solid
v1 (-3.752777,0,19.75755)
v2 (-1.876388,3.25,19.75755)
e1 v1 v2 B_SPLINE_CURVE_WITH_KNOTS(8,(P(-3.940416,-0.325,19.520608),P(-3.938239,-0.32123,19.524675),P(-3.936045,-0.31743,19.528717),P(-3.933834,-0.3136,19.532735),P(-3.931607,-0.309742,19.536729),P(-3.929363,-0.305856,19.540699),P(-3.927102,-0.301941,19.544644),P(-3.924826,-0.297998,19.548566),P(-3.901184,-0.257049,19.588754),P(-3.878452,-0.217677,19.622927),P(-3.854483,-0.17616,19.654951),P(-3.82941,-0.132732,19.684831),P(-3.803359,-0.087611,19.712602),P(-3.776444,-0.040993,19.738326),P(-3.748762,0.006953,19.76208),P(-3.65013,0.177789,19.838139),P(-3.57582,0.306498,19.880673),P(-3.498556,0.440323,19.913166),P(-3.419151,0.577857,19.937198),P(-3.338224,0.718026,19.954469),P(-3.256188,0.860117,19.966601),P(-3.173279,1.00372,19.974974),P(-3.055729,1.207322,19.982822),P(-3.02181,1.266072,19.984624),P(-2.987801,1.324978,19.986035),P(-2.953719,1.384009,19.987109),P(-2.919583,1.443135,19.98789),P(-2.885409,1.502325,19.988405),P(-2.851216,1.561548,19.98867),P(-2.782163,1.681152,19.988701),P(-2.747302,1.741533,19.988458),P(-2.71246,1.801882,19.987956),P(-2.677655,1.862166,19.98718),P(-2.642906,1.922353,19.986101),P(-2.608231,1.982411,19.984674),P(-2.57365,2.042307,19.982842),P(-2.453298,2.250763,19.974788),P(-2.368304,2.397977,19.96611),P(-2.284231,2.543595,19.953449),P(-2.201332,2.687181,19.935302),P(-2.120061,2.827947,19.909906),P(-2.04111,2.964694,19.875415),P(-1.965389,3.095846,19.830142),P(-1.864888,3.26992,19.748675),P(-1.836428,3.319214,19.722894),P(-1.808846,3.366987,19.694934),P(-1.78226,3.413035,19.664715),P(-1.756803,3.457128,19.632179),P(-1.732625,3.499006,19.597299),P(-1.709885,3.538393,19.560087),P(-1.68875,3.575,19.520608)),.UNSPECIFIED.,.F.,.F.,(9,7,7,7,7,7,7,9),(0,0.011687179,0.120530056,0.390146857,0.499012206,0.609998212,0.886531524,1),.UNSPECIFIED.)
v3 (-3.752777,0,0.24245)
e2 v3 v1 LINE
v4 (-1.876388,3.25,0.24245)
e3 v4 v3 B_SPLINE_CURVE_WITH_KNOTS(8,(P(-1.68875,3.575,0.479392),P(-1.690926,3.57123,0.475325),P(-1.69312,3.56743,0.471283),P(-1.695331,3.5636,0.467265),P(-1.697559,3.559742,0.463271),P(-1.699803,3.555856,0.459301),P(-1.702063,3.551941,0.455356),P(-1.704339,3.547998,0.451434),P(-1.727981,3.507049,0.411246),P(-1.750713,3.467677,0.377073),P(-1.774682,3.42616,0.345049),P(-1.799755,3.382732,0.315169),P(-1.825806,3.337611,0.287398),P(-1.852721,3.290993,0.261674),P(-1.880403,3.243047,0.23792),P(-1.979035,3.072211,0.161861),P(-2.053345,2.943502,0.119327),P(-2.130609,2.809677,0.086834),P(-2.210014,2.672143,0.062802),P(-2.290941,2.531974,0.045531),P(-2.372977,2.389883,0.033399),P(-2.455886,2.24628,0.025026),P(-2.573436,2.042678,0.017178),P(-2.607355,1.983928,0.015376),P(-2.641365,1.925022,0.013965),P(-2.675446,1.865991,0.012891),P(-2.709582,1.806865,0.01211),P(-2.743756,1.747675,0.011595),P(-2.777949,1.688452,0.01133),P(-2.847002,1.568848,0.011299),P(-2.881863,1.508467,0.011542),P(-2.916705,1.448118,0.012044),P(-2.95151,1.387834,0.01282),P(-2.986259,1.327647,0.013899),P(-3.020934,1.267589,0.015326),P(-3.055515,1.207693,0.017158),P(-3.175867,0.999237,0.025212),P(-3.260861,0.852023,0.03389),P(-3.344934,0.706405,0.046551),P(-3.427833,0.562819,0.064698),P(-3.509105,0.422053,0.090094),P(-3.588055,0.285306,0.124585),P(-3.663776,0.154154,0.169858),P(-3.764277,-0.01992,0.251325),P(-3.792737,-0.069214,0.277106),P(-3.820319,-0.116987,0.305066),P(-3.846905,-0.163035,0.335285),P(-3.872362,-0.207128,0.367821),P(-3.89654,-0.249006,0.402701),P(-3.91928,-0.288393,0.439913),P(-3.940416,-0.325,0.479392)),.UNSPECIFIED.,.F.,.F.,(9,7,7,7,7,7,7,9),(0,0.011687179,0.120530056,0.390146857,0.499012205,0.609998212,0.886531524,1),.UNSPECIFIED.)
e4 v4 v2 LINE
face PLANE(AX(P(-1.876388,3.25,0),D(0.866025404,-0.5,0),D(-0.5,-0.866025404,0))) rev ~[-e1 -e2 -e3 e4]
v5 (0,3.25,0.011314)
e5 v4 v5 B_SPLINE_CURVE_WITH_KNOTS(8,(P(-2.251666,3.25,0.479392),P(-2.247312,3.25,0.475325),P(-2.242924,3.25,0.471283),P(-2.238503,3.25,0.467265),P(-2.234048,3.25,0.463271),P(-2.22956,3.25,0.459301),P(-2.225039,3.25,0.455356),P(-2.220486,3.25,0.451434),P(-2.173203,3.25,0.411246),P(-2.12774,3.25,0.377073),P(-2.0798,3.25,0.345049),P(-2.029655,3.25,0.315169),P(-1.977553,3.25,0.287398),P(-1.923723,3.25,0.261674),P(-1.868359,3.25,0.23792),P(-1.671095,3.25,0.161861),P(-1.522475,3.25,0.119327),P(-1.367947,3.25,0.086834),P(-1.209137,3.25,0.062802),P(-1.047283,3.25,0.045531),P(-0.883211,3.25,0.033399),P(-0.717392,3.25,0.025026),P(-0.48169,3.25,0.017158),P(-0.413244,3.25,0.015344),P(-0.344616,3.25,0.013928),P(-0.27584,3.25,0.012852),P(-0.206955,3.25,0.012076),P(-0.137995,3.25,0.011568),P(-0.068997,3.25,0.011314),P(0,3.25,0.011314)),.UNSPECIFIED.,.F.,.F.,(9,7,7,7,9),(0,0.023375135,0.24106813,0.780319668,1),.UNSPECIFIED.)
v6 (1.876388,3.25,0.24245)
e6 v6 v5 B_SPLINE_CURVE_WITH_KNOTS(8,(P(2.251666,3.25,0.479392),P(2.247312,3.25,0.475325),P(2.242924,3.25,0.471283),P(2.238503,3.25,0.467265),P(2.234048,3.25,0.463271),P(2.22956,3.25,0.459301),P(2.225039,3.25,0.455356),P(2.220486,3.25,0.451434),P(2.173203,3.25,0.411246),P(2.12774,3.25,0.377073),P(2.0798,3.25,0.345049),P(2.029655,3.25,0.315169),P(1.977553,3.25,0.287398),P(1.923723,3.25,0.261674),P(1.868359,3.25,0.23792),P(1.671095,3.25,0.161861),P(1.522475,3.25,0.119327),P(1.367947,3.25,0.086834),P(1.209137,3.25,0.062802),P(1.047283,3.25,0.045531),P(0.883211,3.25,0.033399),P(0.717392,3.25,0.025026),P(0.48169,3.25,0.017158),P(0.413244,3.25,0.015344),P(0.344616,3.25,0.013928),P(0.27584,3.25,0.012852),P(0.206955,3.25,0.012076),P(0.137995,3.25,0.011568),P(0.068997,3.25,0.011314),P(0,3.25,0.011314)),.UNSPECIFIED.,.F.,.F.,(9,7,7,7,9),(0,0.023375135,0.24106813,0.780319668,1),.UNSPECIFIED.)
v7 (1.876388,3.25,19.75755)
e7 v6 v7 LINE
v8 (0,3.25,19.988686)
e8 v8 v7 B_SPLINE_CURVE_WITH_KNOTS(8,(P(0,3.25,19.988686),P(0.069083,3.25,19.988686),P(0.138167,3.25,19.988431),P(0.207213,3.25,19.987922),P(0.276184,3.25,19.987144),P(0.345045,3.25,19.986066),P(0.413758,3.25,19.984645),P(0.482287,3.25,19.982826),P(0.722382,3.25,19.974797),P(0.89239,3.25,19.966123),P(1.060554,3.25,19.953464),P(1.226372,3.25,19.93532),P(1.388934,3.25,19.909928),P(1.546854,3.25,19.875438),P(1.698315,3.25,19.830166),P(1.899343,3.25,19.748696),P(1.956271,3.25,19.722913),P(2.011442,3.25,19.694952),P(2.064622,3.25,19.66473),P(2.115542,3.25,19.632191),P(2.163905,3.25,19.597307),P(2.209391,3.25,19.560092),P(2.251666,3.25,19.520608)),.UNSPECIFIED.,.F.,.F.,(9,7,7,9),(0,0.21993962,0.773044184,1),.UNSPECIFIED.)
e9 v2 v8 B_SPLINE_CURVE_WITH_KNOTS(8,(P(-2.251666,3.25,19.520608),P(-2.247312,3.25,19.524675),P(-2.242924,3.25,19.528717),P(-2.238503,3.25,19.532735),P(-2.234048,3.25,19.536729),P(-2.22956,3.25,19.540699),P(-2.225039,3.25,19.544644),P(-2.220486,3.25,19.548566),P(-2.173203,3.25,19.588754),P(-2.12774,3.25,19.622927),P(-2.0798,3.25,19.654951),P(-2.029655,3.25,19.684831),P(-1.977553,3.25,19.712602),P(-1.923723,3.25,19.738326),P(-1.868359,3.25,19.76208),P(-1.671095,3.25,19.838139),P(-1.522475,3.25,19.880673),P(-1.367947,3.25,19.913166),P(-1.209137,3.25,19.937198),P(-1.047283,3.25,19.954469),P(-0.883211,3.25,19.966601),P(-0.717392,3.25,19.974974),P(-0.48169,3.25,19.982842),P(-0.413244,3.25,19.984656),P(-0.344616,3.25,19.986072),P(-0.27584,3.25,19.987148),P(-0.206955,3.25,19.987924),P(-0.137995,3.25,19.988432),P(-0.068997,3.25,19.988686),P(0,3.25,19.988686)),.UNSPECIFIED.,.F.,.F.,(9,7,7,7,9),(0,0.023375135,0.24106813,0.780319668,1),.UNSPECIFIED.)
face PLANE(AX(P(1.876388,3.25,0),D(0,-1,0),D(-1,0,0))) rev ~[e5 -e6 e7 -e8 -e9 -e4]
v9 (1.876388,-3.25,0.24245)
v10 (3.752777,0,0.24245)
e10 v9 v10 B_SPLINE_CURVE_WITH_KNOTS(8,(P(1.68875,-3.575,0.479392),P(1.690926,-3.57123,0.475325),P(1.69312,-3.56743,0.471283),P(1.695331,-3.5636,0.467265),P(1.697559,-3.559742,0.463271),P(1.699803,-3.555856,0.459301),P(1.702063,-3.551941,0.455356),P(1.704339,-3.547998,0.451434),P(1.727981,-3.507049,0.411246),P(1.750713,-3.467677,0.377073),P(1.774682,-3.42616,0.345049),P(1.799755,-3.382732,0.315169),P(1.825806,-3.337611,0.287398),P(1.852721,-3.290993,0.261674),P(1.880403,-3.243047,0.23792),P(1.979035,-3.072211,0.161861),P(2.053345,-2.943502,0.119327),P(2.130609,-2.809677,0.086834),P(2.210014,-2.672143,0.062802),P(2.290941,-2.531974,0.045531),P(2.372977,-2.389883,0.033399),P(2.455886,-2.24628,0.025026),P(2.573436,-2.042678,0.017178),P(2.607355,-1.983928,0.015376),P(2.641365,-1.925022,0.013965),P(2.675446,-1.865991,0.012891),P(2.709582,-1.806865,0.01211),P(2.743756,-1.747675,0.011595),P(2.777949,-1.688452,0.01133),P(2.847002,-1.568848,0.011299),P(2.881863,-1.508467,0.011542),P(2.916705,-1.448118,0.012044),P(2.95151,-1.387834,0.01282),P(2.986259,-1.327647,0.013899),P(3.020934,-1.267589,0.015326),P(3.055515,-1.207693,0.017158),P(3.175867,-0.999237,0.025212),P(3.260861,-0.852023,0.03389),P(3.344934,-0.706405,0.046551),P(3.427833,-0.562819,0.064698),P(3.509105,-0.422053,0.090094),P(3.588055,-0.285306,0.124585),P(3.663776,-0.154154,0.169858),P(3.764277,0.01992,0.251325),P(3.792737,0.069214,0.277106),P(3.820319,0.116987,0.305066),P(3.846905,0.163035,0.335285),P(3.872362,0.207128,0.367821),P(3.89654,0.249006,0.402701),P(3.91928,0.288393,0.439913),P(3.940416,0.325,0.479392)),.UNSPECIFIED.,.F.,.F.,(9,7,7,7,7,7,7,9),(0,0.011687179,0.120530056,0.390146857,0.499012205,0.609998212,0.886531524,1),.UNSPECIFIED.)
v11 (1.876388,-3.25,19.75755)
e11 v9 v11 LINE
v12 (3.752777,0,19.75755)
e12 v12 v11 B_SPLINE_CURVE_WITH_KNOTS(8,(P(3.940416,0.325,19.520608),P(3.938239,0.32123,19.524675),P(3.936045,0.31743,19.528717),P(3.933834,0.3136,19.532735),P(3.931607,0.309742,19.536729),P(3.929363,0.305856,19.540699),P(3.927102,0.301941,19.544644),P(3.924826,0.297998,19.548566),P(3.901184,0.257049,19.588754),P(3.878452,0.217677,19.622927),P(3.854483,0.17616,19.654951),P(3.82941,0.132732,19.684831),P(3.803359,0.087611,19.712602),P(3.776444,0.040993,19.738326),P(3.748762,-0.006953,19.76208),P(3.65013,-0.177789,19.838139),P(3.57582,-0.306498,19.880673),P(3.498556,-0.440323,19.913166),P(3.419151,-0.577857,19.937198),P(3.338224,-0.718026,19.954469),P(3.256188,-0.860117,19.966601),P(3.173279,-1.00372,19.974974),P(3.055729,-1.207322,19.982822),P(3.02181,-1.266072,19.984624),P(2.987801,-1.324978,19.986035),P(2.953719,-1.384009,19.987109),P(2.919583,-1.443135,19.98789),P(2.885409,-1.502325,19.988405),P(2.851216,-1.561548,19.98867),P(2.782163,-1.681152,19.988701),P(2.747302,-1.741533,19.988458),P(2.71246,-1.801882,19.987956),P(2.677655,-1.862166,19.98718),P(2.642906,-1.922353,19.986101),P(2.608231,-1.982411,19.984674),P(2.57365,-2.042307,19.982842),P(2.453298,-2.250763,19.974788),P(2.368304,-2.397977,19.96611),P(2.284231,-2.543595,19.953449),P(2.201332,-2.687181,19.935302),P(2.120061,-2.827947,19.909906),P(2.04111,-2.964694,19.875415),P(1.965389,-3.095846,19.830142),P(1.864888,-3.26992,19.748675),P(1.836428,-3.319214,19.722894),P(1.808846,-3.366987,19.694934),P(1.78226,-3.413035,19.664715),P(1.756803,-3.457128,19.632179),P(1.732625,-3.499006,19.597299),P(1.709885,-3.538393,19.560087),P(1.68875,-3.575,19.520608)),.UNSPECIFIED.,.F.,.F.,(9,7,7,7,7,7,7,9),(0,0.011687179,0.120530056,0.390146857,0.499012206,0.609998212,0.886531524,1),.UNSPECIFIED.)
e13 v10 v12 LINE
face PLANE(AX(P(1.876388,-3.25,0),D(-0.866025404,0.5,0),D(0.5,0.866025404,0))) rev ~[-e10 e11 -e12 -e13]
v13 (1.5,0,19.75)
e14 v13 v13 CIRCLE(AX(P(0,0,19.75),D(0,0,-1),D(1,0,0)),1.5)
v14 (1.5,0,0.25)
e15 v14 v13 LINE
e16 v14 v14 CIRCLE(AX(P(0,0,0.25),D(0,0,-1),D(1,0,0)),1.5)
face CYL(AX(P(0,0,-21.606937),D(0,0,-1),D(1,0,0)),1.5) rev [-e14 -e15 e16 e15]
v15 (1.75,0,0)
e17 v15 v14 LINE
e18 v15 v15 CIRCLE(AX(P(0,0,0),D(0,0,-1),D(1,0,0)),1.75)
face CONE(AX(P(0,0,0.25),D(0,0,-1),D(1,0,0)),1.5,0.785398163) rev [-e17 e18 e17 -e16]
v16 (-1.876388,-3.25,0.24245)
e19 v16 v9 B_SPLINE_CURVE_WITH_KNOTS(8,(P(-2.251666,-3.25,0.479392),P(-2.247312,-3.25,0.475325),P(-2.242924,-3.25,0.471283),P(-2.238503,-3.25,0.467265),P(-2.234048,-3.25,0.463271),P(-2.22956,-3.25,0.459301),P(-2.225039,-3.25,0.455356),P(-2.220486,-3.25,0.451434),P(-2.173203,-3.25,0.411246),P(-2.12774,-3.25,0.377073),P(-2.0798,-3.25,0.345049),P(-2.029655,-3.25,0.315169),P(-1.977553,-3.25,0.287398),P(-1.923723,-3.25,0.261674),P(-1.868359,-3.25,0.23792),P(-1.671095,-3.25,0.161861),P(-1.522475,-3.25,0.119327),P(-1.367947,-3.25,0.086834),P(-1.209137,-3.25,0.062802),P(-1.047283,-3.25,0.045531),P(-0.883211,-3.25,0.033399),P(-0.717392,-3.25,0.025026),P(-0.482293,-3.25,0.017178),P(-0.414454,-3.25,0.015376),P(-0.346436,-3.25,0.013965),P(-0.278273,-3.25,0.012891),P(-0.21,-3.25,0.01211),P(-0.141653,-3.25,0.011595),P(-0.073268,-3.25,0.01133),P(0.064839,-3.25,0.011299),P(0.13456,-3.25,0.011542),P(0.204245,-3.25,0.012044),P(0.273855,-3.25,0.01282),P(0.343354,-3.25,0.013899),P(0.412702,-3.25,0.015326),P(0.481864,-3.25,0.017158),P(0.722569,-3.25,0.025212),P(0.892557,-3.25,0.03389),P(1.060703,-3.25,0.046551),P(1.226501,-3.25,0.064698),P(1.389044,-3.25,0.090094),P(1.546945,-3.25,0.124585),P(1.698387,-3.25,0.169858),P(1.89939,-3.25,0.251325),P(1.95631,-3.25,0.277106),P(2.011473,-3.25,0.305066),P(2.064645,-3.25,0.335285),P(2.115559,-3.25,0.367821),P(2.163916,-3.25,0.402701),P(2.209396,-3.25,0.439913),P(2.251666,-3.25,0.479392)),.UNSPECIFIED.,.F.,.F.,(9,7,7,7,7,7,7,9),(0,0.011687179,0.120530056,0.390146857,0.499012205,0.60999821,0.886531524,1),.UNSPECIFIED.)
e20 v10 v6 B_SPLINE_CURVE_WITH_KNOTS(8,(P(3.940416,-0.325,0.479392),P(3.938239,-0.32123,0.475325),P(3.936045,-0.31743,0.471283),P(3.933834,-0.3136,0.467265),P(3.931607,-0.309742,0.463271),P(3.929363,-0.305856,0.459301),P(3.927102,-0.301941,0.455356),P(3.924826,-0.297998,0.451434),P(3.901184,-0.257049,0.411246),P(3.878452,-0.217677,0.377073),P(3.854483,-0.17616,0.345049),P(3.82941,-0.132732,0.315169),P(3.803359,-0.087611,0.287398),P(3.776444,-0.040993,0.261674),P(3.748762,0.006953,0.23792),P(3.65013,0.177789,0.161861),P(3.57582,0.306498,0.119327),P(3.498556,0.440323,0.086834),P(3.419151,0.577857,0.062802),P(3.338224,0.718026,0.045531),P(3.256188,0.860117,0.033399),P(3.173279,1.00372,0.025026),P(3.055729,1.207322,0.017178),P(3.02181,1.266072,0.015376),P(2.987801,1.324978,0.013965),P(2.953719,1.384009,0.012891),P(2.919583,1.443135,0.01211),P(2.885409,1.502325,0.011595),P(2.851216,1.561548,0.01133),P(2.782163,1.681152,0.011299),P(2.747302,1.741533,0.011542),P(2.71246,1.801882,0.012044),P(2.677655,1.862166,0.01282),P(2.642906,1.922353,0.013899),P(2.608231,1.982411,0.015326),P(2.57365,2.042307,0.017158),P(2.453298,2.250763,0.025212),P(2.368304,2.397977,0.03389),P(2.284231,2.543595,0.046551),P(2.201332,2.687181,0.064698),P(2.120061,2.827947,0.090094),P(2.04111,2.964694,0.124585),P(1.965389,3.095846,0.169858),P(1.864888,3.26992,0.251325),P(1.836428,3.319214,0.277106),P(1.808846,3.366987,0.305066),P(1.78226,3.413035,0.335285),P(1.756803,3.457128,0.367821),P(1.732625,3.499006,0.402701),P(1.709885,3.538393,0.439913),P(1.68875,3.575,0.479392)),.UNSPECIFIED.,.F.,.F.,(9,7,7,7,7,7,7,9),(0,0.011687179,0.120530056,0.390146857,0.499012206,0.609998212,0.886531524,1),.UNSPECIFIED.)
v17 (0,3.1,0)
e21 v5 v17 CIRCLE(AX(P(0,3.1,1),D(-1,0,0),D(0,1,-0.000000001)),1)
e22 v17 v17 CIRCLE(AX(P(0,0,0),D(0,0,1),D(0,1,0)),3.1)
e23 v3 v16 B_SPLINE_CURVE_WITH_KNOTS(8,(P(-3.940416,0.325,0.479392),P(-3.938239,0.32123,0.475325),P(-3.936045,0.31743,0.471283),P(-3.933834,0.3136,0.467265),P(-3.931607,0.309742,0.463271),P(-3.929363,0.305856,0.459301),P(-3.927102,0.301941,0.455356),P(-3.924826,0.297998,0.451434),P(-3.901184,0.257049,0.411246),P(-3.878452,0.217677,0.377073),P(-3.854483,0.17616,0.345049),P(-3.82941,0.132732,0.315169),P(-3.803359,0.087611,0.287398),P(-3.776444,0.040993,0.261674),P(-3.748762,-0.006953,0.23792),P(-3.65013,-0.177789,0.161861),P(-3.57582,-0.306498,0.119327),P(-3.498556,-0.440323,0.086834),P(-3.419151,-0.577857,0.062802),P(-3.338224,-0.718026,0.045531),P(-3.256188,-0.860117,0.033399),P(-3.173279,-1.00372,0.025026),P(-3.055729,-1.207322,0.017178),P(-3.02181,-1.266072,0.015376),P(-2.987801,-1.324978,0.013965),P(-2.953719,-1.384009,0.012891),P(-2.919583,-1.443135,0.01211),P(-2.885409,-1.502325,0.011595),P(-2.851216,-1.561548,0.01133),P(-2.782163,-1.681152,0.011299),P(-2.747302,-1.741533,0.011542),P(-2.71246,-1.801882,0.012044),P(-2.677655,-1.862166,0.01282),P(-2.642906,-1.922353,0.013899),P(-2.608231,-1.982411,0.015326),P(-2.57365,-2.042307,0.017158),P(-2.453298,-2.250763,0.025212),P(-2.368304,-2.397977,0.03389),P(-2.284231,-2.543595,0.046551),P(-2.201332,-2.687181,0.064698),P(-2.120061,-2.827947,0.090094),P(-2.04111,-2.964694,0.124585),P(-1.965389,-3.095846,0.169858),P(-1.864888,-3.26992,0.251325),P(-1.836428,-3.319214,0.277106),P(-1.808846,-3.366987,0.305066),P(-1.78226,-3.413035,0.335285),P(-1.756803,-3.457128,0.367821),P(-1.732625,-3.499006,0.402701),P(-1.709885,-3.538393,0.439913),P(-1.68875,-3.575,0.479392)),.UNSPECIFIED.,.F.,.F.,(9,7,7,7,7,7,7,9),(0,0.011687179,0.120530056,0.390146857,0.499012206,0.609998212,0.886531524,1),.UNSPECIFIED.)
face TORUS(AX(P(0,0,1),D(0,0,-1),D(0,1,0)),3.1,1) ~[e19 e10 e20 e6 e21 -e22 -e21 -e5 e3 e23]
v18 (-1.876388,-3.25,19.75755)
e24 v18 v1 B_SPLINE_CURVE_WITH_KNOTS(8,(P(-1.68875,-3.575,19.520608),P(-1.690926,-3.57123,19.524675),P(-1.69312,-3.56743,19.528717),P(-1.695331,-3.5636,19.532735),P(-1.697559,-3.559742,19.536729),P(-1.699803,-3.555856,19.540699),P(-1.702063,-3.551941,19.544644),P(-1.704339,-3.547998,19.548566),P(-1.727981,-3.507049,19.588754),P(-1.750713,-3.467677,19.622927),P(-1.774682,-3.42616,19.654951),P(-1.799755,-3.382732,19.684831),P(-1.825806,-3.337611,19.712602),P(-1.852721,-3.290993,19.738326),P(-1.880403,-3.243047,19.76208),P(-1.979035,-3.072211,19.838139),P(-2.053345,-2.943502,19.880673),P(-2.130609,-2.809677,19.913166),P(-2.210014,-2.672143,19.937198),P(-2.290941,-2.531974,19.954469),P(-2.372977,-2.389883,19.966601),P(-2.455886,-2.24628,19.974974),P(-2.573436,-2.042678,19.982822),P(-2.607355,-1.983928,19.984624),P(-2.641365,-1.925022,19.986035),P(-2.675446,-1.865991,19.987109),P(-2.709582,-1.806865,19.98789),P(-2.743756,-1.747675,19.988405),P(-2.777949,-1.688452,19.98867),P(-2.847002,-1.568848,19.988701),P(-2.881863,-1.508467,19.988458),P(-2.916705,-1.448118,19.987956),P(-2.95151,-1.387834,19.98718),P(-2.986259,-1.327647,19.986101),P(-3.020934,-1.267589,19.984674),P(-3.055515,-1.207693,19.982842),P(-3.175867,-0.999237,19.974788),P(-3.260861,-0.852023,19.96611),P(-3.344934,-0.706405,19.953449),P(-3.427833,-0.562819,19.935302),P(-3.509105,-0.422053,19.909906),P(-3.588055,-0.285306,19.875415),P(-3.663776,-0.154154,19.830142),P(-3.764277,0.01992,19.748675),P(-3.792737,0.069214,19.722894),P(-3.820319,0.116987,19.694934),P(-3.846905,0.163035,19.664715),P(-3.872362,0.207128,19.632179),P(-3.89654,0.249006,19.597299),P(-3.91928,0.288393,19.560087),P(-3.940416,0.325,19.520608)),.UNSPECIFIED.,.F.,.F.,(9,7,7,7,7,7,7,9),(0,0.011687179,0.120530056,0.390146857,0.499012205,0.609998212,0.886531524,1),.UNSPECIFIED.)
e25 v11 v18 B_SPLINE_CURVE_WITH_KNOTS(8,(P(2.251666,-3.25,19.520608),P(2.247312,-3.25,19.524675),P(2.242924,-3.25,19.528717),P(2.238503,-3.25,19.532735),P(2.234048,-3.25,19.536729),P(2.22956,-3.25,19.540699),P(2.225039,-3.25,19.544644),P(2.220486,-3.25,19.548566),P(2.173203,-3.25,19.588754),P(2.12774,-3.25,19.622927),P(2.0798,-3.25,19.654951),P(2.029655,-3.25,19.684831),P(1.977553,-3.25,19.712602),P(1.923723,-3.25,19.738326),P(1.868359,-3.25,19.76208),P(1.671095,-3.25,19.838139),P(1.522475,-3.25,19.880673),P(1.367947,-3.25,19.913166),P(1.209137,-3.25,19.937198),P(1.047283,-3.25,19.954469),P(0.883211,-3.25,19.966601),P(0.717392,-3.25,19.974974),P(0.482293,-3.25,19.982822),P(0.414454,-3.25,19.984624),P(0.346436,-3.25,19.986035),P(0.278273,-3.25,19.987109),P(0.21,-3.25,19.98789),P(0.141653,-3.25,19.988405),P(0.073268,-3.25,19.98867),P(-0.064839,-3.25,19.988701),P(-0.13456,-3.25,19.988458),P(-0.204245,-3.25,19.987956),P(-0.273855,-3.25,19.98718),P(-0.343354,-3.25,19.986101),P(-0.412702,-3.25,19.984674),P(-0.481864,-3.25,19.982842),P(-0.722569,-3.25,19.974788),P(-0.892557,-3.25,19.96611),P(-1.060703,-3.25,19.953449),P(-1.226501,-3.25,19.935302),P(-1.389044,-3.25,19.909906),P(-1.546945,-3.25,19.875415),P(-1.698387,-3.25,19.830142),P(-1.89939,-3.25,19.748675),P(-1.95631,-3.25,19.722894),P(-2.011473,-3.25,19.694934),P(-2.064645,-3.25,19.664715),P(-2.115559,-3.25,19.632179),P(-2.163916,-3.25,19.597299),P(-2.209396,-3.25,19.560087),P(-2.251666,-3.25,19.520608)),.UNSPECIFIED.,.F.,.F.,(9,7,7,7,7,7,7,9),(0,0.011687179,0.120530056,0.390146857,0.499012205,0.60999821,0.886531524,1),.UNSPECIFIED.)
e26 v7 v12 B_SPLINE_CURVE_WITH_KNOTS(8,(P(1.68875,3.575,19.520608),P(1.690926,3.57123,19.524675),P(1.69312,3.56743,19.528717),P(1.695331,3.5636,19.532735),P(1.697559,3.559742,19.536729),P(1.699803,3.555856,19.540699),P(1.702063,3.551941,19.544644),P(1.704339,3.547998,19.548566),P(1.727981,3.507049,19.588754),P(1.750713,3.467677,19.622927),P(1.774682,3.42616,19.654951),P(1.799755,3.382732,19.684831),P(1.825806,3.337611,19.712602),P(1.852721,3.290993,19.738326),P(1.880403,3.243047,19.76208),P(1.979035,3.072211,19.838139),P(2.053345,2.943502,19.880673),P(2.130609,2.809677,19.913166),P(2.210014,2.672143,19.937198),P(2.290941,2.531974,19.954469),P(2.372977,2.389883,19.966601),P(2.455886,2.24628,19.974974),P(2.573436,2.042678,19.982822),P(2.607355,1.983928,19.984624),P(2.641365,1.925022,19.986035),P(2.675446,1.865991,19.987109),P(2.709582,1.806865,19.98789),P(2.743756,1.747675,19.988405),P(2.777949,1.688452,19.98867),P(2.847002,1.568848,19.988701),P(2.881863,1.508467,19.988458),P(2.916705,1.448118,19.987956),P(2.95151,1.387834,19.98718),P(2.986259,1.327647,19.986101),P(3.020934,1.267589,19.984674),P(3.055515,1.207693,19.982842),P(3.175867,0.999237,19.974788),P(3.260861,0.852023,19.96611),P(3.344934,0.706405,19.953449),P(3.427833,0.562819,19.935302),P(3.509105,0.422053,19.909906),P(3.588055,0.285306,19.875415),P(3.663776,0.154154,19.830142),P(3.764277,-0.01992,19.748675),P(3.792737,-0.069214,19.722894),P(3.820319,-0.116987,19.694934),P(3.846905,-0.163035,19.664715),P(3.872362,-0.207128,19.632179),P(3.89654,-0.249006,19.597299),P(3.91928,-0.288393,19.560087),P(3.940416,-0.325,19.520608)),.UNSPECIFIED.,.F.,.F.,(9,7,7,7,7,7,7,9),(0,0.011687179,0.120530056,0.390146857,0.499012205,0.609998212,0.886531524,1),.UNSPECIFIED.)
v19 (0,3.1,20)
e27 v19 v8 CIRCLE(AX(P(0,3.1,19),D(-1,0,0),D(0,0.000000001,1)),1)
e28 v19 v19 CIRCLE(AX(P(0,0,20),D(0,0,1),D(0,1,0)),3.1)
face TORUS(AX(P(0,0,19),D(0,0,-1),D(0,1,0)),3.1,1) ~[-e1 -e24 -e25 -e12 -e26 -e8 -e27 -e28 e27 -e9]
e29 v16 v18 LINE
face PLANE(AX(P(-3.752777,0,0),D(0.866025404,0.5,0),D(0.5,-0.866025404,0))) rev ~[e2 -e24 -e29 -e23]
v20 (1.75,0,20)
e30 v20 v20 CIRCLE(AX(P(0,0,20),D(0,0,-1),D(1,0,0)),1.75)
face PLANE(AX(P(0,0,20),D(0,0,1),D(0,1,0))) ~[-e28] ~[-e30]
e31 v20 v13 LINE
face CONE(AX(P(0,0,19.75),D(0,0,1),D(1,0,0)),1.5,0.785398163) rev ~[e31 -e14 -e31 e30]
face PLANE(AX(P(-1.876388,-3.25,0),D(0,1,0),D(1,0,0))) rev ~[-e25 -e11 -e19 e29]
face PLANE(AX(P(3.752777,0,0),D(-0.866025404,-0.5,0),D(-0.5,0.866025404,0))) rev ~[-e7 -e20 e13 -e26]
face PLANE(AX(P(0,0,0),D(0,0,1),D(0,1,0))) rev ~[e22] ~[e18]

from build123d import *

# Parameters (mm, degrees)
BOSS_EXTRUDE2_DEPTH     = 20
CUT_EXTRUDE5_DEPTH      = 21.606936666
CUT_EXTRUDE5_DEPTH_BACK = 21.606936666
SKETCH2_R               = 1.5
CHAMFER1_SIZE           = 0.25


with BuildPart() as part:
    # Sketch3 → Boss-Extrude2 (new body)
    with BuildSketch(Plane.XY):
        Polygon((3.75277675, 0), (1.876388375, 3.25), (-1.876388375, 3.25), (-3.75277675, 0), (-1.876388375, -3.25), (1.876388375, -3.25), align=None)
    extrude(amount=BOSS_EXTRUDE2_DEPTH)

    # Sketch5 → Cut-Revolve1 (revolve, cut)
    with BuildSketch(Plane(origin=(0, 0, 0), x_dir=(0, 0, -1), z_dir=(1, 0, 0))):
        with BuildLine():
            Line((-20, 0), (-20, 3.1))
            ThreePointArc((-20, 3.1), (-19.707106781, 3.807106781), (-19, 4.1))
            Line((-19, 4.1), (-1, 4.1))
            ThreePointArc((-1, 4.1), (-0.292893219, 3.807106781), (0, 3.1))
            Line((0, 3.1), (0, 1.684209227))
            Line((0, 1.684209227), (1.086869428, 1.684209227))
            Line((1.086869428, 1.684209227), (1.086869428, 4.997067517))
            Line((1.086869428, 4.997067517), (-20.5, 4.997067517))
            Line((-20.5, 4.997067517), (-20.5, 0))
            Line((-20.5, 0), (-20, 0))
        make_face()
    revolve(axis=Axis((0, 0, 20), (0, 0, 1)), mode=Mode.SUBTRACT)

    # Sketch2 → Cut-Extrude5 (cut, two sides: drawn at the far end of the back side and taken through both)
    with BuildSketch(Plane.XY.offset(-CUT_EXTRUDE5_DEPTH_BACK)):
        Circle(SKETCH2_R)
    extrude(amount=CUT_EXTRUDE5_DEPTH + CUT_EXTRUDE5_DEPTH_BACK, mode=Mode.SUBTRACT)

    # Chamfer1
    chamfer1_edges = [part.edges().sort_by_distance(p)[0] for p in [
        (-1.5, 0, 0),
        (-1.5, 0, 20),
    ]]
    chamfer(chamfer1_edges, length=CHAMFER1_SIZE)


solid = part.part
